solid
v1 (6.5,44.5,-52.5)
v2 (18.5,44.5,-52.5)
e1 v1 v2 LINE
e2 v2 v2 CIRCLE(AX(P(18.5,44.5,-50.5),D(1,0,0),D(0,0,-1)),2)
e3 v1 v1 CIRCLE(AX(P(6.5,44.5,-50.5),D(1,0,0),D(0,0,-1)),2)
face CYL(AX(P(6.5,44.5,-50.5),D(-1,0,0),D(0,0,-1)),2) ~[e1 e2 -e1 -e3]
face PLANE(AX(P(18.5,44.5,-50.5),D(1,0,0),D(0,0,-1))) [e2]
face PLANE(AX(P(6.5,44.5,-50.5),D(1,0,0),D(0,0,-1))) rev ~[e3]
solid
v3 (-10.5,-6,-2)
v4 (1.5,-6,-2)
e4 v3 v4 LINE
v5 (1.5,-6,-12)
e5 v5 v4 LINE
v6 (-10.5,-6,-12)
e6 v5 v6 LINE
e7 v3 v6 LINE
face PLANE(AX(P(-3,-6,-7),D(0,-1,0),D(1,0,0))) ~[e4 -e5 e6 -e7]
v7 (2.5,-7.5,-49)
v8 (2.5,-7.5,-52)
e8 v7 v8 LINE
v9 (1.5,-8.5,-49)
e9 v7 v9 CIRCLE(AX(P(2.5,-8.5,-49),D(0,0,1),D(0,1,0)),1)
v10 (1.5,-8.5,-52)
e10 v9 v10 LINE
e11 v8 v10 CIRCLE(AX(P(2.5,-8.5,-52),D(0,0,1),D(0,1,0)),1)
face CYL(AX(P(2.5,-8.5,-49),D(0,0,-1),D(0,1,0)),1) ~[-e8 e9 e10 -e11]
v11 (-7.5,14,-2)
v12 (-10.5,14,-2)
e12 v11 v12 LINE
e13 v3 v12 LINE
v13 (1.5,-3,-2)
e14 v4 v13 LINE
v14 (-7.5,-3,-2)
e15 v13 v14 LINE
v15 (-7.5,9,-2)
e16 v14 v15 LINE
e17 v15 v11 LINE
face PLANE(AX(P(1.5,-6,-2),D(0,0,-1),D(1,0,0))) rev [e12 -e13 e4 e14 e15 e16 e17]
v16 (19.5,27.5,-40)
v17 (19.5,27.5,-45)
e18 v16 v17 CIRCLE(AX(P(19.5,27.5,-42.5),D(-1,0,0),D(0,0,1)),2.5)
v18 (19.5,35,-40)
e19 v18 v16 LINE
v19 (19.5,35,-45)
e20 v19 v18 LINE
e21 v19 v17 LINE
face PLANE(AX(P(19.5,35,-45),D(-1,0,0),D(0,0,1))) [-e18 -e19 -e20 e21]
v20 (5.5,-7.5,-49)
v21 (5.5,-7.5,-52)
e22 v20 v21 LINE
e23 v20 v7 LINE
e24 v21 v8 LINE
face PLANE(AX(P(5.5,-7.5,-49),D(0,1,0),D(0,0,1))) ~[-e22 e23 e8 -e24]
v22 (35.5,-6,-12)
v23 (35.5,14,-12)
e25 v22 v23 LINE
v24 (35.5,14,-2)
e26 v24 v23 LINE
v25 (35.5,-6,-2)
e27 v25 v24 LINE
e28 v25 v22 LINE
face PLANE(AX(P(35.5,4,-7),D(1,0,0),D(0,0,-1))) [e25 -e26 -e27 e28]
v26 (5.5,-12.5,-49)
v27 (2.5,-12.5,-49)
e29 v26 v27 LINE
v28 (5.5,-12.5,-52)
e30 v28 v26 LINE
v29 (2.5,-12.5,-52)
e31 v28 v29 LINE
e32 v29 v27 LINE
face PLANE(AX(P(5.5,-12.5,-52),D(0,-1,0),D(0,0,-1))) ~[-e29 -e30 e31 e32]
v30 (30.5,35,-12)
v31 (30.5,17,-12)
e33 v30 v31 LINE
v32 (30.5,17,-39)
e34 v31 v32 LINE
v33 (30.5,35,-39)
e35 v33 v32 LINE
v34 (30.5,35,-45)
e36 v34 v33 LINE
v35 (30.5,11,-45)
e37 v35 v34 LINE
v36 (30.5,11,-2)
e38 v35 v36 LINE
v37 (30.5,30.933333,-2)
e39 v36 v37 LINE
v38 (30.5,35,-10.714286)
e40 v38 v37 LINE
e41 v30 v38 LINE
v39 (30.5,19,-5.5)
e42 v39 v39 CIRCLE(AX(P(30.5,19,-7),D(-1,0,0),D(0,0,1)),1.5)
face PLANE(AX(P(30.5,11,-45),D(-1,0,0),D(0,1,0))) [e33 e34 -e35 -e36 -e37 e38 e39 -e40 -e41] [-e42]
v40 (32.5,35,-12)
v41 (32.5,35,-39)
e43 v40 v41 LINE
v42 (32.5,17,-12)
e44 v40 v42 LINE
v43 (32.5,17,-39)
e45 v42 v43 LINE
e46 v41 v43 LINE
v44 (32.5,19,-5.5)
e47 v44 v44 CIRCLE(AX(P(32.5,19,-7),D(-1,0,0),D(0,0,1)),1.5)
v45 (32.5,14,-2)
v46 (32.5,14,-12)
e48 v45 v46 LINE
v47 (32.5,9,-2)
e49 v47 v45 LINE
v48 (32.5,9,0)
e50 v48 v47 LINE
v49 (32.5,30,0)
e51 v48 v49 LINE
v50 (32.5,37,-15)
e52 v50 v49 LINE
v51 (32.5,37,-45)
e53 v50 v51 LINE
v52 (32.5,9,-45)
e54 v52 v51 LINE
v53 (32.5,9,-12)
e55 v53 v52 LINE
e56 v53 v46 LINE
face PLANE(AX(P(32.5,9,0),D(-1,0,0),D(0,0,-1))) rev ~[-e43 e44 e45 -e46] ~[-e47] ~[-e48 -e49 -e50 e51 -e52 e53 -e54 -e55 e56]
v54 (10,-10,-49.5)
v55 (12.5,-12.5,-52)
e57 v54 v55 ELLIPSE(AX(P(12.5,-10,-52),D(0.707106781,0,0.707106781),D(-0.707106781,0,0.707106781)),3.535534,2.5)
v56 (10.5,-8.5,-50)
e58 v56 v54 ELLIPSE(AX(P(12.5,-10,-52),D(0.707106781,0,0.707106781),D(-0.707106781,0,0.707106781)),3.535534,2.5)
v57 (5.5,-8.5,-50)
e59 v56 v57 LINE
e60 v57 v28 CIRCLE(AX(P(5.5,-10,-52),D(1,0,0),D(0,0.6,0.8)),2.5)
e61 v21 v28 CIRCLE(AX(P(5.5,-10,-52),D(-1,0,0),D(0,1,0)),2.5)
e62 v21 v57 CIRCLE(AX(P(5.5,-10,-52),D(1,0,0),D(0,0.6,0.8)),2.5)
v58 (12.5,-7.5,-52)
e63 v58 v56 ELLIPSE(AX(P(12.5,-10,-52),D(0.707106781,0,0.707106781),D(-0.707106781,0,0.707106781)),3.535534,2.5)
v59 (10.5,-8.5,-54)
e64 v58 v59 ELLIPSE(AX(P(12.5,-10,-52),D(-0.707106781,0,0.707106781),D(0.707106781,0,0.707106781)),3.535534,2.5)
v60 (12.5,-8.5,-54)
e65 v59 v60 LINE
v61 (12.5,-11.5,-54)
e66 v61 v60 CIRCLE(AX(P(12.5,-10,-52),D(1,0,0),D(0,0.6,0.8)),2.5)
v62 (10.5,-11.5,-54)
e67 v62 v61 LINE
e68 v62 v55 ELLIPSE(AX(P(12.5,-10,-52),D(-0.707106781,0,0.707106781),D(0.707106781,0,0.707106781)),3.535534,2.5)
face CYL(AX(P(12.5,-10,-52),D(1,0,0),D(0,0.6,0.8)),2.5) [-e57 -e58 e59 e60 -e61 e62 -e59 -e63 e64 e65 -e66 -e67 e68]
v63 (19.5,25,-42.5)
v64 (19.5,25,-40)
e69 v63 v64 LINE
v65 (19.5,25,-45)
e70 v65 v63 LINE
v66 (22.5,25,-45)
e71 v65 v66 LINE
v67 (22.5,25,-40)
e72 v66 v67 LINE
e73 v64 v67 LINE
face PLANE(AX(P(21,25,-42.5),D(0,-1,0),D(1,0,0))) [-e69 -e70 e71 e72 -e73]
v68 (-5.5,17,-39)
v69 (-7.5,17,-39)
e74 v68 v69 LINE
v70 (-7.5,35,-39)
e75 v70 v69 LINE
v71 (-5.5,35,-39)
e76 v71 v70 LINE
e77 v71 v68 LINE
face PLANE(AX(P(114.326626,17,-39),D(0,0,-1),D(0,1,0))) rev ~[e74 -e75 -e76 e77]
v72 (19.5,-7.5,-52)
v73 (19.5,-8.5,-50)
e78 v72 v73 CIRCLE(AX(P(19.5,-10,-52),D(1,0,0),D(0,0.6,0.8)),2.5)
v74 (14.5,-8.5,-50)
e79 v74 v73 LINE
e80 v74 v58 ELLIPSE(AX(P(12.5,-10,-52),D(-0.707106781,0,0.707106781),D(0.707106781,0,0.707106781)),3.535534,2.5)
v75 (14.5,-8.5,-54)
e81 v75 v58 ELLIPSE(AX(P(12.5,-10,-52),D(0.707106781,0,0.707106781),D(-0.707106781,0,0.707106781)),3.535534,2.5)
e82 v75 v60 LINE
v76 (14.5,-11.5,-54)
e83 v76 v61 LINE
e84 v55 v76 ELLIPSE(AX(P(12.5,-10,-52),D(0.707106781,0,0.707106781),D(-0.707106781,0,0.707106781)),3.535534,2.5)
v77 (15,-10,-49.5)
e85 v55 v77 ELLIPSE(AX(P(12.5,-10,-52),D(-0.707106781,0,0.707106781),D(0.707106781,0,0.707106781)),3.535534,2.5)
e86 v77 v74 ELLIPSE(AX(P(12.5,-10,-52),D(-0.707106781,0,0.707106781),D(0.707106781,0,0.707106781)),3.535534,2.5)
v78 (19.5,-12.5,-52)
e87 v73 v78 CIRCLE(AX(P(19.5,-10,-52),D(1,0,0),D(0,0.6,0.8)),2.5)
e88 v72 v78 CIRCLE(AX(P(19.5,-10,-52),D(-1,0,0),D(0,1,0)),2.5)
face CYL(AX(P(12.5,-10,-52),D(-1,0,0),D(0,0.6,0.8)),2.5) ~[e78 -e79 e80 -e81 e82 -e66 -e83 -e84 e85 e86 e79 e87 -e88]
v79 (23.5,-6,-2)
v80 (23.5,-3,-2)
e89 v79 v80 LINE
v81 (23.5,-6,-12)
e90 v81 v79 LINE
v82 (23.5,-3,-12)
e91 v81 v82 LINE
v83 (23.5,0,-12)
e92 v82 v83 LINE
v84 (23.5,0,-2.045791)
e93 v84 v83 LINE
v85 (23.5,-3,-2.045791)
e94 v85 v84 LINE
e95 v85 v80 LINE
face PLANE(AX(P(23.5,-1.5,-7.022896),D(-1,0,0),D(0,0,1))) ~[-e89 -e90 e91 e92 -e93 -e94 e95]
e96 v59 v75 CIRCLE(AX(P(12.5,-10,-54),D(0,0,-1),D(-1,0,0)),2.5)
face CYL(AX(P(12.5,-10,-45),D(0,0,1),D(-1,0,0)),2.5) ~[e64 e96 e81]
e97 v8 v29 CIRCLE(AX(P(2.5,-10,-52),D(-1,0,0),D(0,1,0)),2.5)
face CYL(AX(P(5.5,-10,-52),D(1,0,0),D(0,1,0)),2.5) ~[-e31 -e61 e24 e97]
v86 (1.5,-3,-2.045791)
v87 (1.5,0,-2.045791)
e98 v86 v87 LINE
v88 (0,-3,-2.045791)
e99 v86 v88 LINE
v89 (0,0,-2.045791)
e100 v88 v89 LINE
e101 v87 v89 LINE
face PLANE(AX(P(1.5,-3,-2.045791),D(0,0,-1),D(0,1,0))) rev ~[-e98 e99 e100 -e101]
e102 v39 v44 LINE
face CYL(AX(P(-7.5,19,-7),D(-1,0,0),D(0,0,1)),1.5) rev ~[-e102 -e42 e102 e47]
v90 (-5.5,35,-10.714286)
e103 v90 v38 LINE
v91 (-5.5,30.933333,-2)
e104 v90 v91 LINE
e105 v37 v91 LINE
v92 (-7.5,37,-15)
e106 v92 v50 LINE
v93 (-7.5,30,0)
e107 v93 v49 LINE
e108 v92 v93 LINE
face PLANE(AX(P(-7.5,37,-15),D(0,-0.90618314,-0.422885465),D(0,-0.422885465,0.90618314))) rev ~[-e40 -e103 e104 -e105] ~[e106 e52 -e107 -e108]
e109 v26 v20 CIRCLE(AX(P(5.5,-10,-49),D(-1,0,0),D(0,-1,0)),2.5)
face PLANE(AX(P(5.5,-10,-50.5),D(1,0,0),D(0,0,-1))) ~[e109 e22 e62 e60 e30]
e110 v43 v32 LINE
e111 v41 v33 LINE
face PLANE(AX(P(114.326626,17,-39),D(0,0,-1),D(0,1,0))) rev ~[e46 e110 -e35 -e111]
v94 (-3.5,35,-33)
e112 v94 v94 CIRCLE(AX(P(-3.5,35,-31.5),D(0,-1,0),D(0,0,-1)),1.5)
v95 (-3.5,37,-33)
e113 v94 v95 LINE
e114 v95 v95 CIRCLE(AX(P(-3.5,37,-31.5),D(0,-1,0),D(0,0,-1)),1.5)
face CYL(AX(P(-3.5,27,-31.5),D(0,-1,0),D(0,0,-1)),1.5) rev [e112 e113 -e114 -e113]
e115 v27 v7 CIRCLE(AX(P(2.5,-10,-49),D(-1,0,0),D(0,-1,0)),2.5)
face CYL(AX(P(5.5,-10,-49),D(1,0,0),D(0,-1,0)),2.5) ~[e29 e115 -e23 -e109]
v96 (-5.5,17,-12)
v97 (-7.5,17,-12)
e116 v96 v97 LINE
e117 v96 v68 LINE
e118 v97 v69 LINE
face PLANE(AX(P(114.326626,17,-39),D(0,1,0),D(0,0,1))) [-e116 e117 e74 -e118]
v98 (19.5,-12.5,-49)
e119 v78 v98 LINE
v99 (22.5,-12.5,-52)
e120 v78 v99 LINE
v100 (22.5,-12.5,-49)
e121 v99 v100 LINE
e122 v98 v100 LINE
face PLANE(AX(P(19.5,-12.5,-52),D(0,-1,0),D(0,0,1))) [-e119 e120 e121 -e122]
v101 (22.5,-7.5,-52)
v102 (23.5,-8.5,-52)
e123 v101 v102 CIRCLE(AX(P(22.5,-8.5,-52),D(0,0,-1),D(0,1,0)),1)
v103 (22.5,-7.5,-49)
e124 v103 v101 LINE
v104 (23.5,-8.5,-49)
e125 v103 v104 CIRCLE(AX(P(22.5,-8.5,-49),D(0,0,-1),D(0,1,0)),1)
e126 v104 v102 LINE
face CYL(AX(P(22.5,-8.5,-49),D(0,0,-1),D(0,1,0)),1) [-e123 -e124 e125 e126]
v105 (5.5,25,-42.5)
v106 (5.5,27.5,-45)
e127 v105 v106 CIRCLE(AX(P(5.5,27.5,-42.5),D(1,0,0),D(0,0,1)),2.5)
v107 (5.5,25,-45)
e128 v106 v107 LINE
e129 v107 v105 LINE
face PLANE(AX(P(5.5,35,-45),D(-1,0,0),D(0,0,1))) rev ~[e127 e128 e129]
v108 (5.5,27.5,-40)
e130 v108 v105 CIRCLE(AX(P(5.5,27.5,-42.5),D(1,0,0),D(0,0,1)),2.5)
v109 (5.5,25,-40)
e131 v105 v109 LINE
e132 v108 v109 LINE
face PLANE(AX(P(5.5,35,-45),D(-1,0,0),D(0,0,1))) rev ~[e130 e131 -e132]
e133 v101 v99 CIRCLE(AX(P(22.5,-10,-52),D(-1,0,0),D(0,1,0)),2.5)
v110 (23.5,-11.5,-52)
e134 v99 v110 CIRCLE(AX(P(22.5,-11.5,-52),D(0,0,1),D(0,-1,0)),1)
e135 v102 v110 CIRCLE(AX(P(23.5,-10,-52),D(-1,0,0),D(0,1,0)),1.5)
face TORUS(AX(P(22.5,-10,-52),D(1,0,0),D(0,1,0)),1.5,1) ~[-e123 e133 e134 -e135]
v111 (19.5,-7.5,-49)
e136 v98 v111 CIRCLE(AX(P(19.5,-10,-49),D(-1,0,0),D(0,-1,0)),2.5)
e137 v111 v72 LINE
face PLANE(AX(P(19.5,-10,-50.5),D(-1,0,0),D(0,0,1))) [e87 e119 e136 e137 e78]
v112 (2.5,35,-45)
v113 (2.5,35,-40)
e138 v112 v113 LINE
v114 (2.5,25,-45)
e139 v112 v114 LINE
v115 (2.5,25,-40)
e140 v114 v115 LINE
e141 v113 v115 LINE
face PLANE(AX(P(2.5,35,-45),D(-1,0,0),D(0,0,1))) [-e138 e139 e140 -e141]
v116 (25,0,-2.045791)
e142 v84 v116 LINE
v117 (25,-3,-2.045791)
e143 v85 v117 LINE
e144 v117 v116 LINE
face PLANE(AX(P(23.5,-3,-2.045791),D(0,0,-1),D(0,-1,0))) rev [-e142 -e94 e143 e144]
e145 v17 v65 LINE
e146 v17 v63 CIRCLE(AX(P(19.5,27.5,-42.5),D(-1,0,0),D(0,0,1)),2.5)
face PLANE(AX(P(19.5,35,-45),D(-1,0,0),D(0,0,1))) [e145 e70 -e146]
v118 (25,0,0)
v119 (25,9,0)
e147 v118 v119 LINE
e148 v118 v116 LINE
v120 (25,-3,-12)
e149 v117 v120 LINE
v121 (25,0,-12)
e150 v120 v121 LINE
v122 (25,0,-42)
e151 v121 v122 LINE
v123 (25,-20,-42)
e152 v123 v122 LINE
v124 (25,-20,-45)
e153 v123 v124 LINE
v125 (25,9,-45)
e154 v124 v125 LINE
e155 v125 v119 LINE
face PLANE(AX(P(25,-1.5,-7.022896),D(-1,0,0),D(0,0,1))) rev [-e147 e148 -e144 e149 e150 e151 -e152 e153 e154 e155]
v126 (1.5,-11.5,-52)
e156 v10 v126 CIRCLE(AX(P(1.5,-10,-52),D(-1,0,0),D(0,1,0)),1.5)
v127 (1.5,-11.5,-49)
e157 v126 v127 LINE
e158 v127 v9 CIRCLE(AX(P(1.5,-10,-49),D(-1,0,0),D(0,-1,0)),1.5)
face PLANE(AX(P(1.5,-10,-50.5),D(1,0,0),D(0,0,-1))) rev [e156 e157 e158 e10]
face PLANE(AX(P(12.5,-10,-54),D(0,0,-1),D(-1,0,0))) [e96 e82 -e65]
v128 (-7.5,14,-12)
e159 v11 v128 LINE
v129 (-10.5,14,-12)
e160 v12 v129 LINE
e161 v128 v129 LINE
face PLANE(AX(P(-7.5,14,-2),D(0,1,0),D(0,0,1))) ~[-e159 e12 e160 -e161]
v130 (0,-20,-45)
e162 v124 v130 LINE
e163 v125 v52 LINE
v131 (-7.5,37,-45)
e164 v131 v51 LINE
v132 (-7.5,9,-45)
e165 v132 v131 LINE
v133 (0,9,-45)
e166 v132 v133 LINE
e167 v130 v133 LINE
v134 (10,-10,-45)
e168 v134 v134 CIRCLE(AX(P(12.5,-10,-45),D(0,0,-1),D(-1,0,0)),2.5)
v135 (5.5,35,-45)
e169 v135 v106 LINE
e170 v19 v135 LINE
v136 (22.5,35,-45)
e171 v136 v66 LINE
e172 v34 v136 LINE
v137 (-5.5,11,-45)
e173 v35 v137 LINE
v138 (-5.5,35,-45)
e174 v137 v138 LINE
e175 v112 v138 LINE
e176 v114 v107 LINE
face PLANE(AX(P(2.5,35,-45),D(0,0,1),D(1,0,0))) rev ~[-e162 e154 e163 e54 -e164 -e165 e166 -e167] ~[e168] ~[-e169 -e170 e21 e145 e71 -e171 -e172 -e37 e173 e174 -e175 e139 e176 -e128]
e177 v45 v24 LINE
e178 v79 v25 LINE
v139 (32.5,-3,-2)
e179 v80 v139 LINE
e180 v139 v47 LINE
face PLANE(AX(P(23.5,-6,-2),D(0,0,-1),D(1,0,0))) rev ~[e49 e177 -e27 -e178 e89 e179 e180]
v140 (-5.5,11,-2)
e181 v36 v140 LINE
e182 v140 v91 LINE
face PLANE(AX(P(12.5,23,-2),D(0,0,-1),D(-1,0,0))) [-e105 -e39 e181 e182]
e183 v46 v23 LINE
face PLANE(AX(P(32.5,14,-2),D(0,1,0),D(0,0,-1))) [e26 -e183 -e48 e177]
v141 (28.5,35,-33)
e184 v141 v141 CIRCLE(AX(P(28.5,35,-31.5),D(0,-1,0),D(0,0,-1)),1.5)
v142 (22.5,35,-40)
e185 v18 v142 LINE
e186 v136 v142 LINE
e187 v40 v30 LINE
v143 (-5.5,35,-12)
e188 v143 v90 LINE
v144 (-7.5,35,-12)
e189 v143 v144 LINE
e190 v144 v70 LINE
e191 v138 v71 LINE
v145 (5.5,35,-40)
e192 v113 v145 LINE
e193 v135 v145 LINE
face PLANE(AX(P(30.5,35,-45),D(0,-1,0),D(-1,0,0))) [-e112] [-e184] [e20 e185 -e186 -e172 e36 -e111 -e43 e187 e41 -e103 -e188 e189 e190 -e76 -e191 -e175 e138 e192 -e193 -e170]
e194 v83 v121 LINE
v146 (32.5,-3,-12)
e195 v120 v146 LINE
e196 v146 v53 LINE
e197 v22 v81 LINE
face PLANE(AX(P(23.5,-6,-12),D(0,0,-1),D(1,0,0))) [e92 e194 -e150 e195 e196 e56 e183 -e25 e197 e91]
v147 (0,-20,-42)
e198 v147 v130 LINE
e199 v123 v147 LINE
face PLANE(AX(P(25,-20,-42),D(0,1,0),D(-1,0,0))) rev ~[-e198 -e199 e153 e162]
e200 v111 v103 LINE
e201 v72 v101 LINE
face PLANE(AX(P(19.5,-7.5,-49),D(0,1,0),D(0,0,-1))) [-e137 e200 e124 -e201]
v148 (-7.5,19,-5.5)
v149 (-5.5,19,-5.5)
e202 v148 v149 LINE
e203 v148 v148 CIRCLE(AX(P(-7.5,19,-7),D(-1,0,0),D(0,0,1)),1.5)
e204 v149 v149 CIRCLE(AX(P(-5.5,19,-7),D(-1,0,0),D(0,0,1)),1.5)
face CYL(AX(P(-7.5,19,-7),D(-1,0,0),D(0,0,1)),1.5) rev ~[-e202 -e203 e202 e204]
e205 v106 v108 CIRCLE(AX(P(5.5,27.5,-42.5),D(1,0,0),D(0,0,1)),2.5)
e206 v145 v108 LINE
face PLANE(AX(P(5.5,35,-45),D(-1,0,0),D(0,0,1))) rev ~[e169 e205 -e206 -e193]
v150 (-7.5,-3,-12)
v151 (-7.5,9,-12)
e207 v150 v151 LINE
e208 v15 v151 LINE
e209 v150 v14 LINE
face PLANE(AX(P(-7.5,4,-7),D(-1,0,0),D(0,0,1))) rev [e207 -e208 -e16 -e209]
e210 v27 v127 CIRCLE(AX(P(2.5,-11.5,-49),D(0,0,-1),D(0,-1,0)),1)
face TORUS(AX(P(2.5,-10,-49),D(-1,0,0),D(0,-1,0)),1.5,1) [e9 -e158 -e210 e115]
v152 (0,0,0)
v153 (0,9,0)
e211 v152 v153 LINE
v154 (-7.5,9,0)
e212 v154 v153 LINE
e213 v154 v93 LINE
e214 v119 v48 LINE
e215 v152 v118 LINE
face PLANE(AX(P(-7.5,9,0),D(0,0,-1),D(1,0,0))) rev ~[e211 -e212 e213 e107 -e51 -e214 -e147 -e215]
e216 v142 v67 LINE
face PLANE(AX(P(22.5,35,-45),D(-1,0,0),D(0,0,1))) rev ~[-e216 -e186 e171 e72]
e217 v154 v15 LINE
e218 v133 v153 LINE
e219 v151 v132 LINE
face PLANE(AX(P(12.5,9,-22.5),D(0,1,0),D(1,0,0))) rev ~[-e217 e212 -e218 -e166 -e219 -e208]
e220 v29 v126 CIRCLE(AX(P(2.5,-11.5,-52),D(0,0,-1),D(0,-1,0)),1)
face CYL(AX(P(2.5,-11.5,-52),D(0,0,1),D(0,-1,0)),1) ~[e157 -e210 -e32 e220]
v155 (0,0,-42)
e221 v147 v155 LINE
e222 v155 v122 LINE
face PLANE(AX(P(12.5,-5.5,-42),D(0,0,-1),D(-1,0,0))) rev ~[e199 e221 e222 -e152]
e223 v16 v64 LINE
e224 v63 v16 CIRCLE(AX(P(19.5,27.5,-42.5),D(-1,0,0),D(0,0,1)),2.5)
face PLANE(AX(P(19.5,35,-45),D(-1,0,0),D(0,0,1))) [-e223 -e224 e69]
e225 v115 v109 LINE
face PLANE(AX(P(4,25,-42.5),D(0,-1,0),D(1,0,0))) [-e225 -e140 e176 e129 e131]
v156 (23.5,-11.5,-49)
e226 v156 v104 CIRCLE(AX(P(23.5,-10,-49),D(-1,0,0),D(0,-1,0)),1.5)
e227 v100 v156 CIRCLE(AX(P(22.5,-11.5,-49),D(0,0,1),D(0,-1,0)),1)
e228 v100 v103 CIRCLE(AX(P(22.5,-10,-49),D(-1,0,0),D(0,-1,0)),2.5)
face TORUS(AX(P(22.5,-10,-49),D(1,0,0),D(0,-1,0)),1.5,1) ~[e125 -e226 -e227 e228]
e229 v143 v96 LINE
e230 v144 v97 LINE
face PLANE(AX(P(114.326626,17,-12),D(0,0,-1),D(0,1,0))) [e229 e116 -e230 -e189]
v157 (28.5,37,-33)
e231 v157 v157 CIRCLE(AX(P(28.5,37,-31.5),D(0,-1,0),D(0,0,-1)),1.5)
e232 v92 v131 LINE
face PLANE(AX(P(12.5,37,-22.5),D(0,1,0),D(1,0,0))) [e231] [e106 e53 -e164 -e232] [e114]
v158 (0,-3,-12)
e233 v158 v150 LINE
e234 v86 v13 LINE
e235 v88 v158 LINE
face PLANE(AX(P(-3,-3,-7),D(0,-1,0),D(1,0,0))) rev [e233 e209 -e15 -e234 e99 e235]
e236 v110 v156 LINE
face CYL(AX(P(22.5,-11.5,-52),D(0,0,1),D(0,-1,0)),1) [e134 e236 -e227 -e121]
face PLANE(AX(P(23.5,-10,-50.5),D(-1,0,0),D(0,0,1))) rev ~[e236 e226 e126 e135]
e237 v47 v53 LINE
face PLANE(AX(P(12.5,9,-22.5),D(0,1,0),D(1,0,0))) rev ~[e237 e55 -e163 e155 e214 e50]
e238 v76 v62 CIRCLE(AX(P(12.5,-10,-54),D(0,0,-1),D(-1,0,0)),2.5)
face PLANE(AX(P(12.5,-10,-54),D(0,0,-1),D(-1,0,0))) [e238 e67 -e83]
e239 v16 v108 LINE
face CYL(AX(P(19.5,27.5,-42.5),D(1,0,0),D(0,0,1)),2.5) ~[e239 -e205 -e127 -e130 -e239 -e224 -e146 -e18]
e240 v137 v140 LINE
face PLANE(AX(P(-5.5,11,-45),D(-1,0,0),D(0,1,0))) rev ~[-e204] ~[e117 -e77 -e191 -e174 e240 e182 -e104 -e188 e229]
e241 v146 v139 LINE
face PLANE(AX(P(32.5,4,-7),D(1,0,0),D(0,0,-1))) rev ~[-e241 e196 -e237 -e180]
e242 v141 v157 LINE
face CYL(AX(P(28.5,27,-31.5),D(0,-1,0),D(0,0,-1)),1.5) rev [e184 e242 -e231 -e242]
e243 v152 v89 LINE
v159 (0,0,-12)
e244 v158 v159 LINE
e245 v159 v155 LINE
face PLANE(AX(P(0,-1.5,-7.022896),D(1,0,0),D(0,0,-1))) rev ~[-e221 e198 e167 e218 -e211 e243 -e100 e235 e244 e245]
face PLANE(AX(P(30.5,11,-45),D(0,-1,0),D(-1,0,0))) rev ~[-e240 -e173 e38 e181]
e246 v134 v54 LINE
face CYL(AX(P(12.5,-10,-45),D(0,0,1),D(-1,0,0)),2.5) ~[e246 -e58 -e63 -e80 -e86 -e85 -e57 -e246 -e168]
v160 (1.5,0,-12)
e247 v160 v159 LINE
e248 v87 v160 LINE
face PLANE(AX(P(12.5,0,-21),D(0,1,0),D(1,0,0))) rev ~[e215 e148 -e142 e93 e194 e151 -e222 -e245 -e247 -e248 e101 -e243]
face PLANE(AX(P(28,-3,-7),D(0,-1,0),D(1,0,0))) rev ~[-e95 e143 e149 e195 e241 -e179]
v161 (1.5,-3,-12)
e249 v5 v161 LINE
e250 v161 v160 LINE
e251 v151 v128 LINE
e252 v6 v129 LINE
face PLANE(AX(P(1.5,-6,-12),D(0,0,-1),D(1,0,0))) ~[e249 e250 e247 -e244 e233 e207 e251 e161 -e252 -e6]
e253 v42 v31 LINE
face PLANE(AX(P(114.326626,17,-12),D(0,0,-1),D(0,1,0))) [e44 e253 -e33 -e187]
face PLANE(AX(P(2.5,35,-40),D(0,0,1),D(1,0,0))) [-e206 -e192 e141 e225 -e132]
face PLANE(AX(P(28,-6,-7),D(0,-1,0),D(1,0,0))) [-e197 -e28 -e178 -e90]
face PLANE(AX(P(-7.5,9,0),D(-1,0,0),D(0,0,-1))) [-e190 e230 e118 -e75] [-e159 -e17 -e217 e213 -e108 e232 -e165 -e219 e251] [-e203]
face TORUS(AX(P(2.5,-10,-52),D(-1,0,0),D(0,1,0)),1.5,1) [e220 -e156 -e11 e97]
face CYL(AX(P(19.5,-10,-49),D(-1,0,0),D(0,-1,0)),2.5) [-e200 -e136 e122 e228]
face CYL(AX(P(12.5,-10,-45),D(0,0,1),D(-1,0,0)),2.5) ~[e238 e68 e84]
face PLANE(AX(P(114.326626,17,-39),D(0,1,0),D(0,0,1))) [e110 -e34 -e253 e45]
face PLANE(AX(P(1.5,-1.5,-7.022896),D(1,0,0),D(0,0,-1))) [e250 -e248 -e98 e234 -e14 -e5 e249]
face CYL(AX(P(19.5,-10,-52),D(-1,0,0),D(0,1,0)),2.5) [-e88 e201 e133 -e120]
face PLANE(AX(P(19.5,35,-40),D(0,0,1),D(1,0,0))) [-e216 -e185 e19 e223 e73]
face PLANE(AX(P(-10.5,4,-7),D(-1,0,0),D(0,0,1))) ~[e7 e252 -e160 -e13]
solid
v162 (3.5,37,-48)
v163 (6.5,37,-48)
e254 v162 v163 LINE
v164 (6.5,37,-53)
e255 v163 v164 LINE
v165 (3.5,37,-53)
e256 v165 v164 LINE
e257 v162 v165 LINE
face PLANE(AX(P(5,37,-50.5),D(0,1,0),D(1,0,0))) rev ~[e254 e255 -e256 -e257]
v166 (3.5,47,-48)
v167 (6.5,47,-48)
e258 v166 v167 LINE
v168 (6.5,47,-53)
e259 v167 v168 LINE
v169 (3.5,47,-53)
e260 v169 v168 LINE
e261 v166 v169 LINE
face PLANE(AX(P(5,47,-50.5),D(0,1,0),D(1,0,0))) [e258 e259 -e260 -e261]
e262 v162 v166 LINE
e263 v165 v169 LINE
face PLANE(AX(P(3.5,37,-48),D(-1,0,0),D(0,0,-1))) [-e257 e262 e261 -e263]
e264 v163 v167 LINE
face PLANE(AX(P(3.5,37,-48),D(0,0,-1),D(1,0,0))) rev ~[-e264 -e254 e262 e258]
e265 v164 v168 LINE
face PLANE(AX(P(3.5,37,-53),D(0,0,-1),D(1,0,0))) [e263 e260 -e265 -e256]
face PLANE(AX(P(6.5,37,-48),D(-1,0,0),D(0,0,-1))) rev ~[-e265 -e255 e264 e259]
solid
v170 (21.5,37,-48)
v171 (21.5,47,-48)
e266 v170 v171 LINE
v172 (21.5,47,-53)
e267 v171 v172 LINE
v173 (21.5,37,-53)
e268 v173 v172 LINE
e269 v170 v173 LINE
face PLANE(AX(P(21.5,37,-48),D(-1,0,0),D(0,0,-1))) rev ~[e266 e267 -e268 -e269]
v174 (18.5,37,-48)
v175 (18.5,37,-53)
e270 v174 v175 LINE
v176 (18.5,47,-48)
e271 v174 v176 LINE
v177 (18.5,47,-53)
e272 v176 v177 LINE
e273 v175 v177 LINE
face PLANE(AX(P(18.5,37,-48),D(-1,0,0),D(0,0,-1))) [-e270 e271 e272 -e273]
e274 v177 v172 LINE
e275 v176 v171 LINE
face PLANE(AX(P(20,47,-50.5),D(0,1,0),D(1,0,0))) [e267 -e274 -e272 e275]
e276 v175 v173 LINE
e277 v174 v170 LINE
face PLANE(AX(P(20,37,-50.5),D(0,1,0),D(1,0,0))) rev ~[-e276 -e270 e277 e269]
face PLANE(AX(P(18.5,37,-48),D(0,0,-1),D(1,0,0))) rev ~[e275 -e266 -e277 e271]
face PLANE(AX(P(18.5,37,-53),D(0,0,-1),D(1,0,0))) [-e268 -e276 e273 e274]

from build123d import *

# Parameters (mm, degrees)
SKETCH_1_W               = 25
SKETCH_1_H               = 42
EXTRUDE_1_DEPTH          = 9
SKETCH_2_W               = 25
SKETCH_2_H               = 29
EXTRUDE_2_DEPTH          = 3
SKETCH_3_W               = 40
SKETCH_3_H               = 45
EXTRUDE_3_DEPTH          = 28
SKETCH_4_W               = 36
SKETCH_4_H               = 24
CUT_EXTRUDE_1_DEPTH      = 43
SKETCH_6_W               = 10
SKETCH_6_H               = 20
EXTRUDE_4_DEPTH          = 3
SKETCH_7_W               = 9
SKETCH_7_H               = 10
EXTRUDE_5_DEPTH          = 3
SKETCH_8_W               = 3
SKETCH_8_H               = 5
EXTRUDE_6_DEPTH          = 10
EXTRUDE_6_2_DEPTH        = 10
SKETCH_9_R               = 2
EXTRUDE_7_DEPTH          = 12
SKETCH_10_R              = 1.5
CUT_EXTRUDE_2_DEPTH      = 83.867363902
SKETCH_11_R              = 2.5
EXTRUDE_8_DEPTH          = 9
SKETCH_12_R              = 2.5
EXTRUDE_9_DEPTH          = 7
EXTRUDE_10_DEPTH         = 4
FILLET_1_R               = 1
FILLET_1_OF_MIRROR_2_R   = 1
CUT_EXTRUDE_3_DEPTH      = 84.834658704
CUT_EXTRUDE_5_DEPTH      = 83.826626154
CUT_EXTRUDE_5_DEPTH_BACK = 83.826626154
SKETCH_19_W              = 27
SKETCH_19_H              = 18
CUT_EXTRUDE_6_DEPTH      = 87.484102585
CUT_EXTRUDE_6_DEPTH_BACK = 10
SKETCH_20_R              = 1.5
SKETCH_21_W              = 3
SKETCH_21_H              = 5
EXTRUDE_11_DEPTH         = 10
EXTRUDE_12_REACH         = 79.97
SKETCH_22_R              = 2.5
SKETCH_23_W              = 9.954208599
SKETCH_23_H              = 3
EXTRUDE_13_DEPTH         = 1.5


with BuildPart() as part:
    # ｽｹｯﾁ1 → ﾎﾞｽ - 押し出し1 (new body)
    with BuildSketch(Plane(origin=(0, 0, 0), x_dir=(1, 0, 0), z_dir=(0, 1, 0))):
        with Locations((12.5, 21)):
            Rectangle(SKETCH_1_W, SKETCH_1_H)
    extrude(amount=EXTRUDE_1_DEPTH)

    # ｽｹｯﾁ2 → ﾎﾞｽ - 押し出し2 (add)
    with BuildSketch(Plane(origin=(0, 0, -42), x_dir=(-1, 0, 0), z_dir=(0, 0, -1))):
        with Locations((-12.5, -5.5)):
            Rectangle(SKETCH_2_W, SKETCH_2_H)
    extrude(amount=EXTRUDE_2_DEPTH)

    # ｽｹｯﾁ3 → ﾎﾞｽ - 押し出し3 (add)
    with BuildSketch(Plane(origin=(0, 9, 0), x_dir=(1, 0, 0), z_dir=(0, 1, 0))):
        with Locations((12.5, 22.5)):
            Rectangle(SKETCH_3_W, SKETCH_3_H)
    extrude(amount=EXTRUDE_3_DEPTH)

    # ｽｹｯﾁ4 → ｶｯﾄ - 押し出し1 (cut)
    with BuildSketch(Plane(origin=(0, 0, -45), x_dir=(-1, 0, 0), z_dir=(0, 0, -1))):
        with Locations((-12.5, 23)):
            Rectangle(SKETCH_4_W, SKETCH_4_H)
    extrude(amount=-CUT_EXTRUDE_1_DEPTH, mode=Mode.SUBTRACT)

    # ｽｹｯﾁ6 → ﾎﾞｽ - 押し出し4 (add)
    with BuildSketch(Plane(origin=(32.5, 0, 0), x_dir=(0, 0, -1), z_dir=(1, 0, 0))):
        with Locations((7, 4)):
            Rectangle(SKETCH_6_W, SKETCH_6_H)
    extrude_4 = extrude(amount=EXTRUDE_4_DEPTH)

    # ｽｹｯﾁ7 → ﾎﾞｽ - 押し出し5 (add)
    with BuildSketch(Plane.XZ.offset(6)):
        with Locations((28, -7)):
            Rectangle(SKETCH_7_W, SKETCH_7_H)
    extrude_5 = extrude(amount=-EXTRUDE_5_DEPTH)

    # ﾐﾗｰ1: ﾎﾞｽ - 押し出し4, ﾎﾞｽ - 押し出し5 across plane
    add(extrude_4.mirror(Plane(origin=(12.5, 0, 0), x_dir=(0, 0, 1), z_dir=(1, 0, 0))))
    add(extrude_5.mirror(Plane(origin=(12.5, 0, 0), x_dir=(0, 0, 1), z_dir=(1, 0, 0))))

    # ｽｹｯﾁ10 → ｶｯﾄ - 押し出し2 (cut, through all)
    with BuildSketch(Plane.ZY.offset(7.5)):
        with Locations((-7, 19)):
            Circle(SKETCH_10_R)
    extrude(amount=-CUT_EXTRUDE_2_DEPTH, mode=Mode.SUBTRACT)

    # ｽｹｯﾁ11 → ﾎﾞｽ - 押し出し8 (add)
    with BuildSketch(Plane(origin=(0, 0, -45), x_dir=(-1, 0, 0), z_dir=(0, 0, -1))):
        with Locations((-12.5, -10)):
            Circle(SKETCH_11_R)
    extrude(amount=EXTRUDE_8_DEPTH)

    # ｽｹｯﾁ12 → ﾎﾞｽ - 押し出し9 (add)
    with BuildSketch(Plane(origin=(12.5, 0, 0), x_dir=(0, 0, -1), z_dir=(1, 0, 0))):
        with Locations(Location((52, -10, 0), (0, 0, 143.130102354))):
            Circle(SKETCH_12_R)
    extrude_9 = extrude(amount=EXTRUDE_9_DEPTH)

    # ｽｹｯﾁ13 → ﾎﾞｽ - 押し出し10 (add)
    with BuildSketch(Plane(origin=(19.5, 0, 0), x_dir=(0, 0, -1), z_dir=(1, 0, 0))):
        with BuildLine():
            Line((52, -12.5), (49, -12.5))
            ThreePointArc((49, -12.5), (46.5, -10), (49, -7.5))
            Line((49, -7.5), (52, -7.5))
            ThreePointArc((52, -7.5), (54.5, -10), (52, -12.5))
        make_face()
    extrude_10 = extrude(amount=EXTRUDE_10_DEPTH)

    # ﾌｨﾚｯﾄ1
    fillet_1_edges = [part.edges().sort_by_distance(p)[0] for p in [
        (23.5, -10, -54.5),
        (23.5, -7.5, -50.5),
        (23.5, -10, -46.5),
        (23.5, -12.5, -50.5),
    ]]
    fillet(fillet_1_edges, radius=FILLET_1_R)

    # ﾐﾗｰ2: ﾎﾞｽ - 押し出し9, ﾎﾞｽ - 押し出し10 across plane
    add(extrude_9.mirror(Plane(origin=(12.5, 0, 0), x_dir=(0, 0, 1), z_dir=(1, 0, 0))))
    add(extrude_10.mirror(Plane(origin=(12.5, 0, 0), x_dir=(0, 0, 1), z_dir=(1, 0, 0))))

    # ﾌｨﾚｯﾄ1 of ﾐﾗｰ2
    fillet_1_of_mirror_2_edges = [part.edges().sort_by_distance(p)[0] for p in [
        (1.5, -10, -54.5),
        (1.5, -7.5, -50.5),
        (1.5, -10, -46.5),
        (1.5, -12.5, -50.5),
    ]]
    fillet(fillet_1_of_mirror_2_edges, radius=FILLET_1_OF_MIRROR_2_R)

    # ｽｹｯﾁ14 → ｶｯﾄ - 押し出し3 (cut, through all)
    with BuildSketch(Plane.ZY.offset(7.5)):
        Polygon((-15, 37), (0, 30), (0, 37), align=None)
    extrude(amount=-CUT_EXTRUDE_3_DEPTH, mode=Mode.SUBTRACT)

    # ｽｹｯﾁ19 → ｶｯﾄ - 押し出し5 (cut, two sides: drawn at the far end of the back side and taken through both)
    with BuildSketch(Plane.ZY.offset(-30.5).offset(-CUT_EXTRUDE_5_DEPTH_BACK)):
        with Locations((-25.5, 26)):
            Rectangle(SKETCH_19_W, SKETCH_19_H)
    extrude(amount=CUT_EXTRUDE_5_DEPTH + CUT_EXTRUDE_5_DEPTH_BACK, mode=Mode.SUBTRACT)

    # ｽｹｯﾁ20 → ｶｯﾄ - 押し出し6 (cut, two sides: drawn at the far end of the back side and taken through both)
    with BuildSketch(Plane(origin=(0, 37, 0), x_dir=(1, 0, 0), z_dir=(0, 1, 0)).offset(-CUT_EXTRUDE_6_DEPTH_BACK)):
        with Locations(Location((-3.5, 31.5, 0), (0, 0, 90))):
            Circle(SKETCH_20_R)
        with Locations(Location((28.5, 31.5, 0), (0, 0, 90))):
            Circle(SKETCH_20_R)
    extrude(amount=CUT_EXTRUDE_6_DEPTH + CUT_EXTRUDE_6_DEPTH_BACK, mode=Mode.SUBTRACT)

    # ｽｹｯﾁ21 → ﾎﾞｽ - 押し出し11 (add)
    with BuildSketch(Plane.XZ.offset(-35)):
        with Locations((21, -42.5)):
            Rectangle(SKETCH_21_W, SKETCH_21_H)
        with Locations((4, -42.5)):
            Rectangle(SKETCH_21_W, SKETCH_21_H)
    extrude(amount=EXTRUDE_11_DEPTH)

    # ｽｹｯﾁ22 → ﾎﾞｽ - 押し出し12 (add, up to next)
    with BuildSketch(Plane.ZY.offset(-19.5), mode=Mode.PRIVATE) as extrude_12_sk1:
        with Locations((-42.5, 27.5)):
            Circle(SKETCH_22_R)
    extrude_12_tool1 = extrude(extrude_12_sk1.sketch, amount=EXTRUDE_12_REACH, mode=Mode.PRIVATE) - part.part
    add(extrude_12_tool1.solids().sort_by_distance((19.5, 27.5, -42.5))[0])

    # ｽｹｯﾁ23 → ﾎﾞｽ - 押し出し13 (add)
    with BuildSketch(Plane(origin=(1.5, 0, 0), x_dir=(0, 0, -1), z_dir=(1, 0, 0))):
        with Locations((7.022895701, -1.5)):
            Rectangle(SKETCH_23_W, SKETCH_23_H)
    extrude_13 = extrude(amount=-EXTRUDE_13_DEPTH)

    # ﾐﾗｰ3: ﾎﾞｽ - 押し出し13 across plane
    add(extrude_13.mirror(Plane(origin=(12.5, 0, 0), x_dir=(0, 0, 1), z_dir=(1, 0, 0))))


with BuildPart() as body_2:
    # ｽｹｯﾁ8 → ﾎﾞｽ - 押し出し6 (new body)
    with BuildSketch(Plane(origin=(0, 37, 0), x_dir=(1, 0, 0), z_dir=(0, 1, 0))):
        with Locations((5, 50.5)):
            Rectangle(SKETCH_8_W, SKETCH_8_H)
    extrude(amount=EXTRUDE_6_DEPTH)


with BuildPart() as body_3:
    # ｽｹｯﾁ8 → Extrude 6 2 (new body)
    with BuildSketch(Plane(origin=(0, 37, 0), x_dir=(1, 0, 0), z_dir=(0, 1, 0))):
        with Locations((20, 50.5)):
            Rectangle(SKETCH_8_W, SKETCH_8_H)
    extrude(amount=EXTRUDE_6_2_DEPTH)


with BuildPart() as body_4:
    # ｽｹｯﾁ9 → ﾎﾞｽ - 押し出し7 (new body)
    with BuildSketch(Plane(origin=(6.5, 0, 0), x_dir=(0, 0, -1), z_dir=(1, 0, 0))):
        with Locations((50.5, 44.5)):
            Circle(SKETCH_9_R)
    extrude(amount=EXTRUDE_7_DEPTH)


solid = Compound([part.part, body_2.part, body_3.part, body_4.part])
